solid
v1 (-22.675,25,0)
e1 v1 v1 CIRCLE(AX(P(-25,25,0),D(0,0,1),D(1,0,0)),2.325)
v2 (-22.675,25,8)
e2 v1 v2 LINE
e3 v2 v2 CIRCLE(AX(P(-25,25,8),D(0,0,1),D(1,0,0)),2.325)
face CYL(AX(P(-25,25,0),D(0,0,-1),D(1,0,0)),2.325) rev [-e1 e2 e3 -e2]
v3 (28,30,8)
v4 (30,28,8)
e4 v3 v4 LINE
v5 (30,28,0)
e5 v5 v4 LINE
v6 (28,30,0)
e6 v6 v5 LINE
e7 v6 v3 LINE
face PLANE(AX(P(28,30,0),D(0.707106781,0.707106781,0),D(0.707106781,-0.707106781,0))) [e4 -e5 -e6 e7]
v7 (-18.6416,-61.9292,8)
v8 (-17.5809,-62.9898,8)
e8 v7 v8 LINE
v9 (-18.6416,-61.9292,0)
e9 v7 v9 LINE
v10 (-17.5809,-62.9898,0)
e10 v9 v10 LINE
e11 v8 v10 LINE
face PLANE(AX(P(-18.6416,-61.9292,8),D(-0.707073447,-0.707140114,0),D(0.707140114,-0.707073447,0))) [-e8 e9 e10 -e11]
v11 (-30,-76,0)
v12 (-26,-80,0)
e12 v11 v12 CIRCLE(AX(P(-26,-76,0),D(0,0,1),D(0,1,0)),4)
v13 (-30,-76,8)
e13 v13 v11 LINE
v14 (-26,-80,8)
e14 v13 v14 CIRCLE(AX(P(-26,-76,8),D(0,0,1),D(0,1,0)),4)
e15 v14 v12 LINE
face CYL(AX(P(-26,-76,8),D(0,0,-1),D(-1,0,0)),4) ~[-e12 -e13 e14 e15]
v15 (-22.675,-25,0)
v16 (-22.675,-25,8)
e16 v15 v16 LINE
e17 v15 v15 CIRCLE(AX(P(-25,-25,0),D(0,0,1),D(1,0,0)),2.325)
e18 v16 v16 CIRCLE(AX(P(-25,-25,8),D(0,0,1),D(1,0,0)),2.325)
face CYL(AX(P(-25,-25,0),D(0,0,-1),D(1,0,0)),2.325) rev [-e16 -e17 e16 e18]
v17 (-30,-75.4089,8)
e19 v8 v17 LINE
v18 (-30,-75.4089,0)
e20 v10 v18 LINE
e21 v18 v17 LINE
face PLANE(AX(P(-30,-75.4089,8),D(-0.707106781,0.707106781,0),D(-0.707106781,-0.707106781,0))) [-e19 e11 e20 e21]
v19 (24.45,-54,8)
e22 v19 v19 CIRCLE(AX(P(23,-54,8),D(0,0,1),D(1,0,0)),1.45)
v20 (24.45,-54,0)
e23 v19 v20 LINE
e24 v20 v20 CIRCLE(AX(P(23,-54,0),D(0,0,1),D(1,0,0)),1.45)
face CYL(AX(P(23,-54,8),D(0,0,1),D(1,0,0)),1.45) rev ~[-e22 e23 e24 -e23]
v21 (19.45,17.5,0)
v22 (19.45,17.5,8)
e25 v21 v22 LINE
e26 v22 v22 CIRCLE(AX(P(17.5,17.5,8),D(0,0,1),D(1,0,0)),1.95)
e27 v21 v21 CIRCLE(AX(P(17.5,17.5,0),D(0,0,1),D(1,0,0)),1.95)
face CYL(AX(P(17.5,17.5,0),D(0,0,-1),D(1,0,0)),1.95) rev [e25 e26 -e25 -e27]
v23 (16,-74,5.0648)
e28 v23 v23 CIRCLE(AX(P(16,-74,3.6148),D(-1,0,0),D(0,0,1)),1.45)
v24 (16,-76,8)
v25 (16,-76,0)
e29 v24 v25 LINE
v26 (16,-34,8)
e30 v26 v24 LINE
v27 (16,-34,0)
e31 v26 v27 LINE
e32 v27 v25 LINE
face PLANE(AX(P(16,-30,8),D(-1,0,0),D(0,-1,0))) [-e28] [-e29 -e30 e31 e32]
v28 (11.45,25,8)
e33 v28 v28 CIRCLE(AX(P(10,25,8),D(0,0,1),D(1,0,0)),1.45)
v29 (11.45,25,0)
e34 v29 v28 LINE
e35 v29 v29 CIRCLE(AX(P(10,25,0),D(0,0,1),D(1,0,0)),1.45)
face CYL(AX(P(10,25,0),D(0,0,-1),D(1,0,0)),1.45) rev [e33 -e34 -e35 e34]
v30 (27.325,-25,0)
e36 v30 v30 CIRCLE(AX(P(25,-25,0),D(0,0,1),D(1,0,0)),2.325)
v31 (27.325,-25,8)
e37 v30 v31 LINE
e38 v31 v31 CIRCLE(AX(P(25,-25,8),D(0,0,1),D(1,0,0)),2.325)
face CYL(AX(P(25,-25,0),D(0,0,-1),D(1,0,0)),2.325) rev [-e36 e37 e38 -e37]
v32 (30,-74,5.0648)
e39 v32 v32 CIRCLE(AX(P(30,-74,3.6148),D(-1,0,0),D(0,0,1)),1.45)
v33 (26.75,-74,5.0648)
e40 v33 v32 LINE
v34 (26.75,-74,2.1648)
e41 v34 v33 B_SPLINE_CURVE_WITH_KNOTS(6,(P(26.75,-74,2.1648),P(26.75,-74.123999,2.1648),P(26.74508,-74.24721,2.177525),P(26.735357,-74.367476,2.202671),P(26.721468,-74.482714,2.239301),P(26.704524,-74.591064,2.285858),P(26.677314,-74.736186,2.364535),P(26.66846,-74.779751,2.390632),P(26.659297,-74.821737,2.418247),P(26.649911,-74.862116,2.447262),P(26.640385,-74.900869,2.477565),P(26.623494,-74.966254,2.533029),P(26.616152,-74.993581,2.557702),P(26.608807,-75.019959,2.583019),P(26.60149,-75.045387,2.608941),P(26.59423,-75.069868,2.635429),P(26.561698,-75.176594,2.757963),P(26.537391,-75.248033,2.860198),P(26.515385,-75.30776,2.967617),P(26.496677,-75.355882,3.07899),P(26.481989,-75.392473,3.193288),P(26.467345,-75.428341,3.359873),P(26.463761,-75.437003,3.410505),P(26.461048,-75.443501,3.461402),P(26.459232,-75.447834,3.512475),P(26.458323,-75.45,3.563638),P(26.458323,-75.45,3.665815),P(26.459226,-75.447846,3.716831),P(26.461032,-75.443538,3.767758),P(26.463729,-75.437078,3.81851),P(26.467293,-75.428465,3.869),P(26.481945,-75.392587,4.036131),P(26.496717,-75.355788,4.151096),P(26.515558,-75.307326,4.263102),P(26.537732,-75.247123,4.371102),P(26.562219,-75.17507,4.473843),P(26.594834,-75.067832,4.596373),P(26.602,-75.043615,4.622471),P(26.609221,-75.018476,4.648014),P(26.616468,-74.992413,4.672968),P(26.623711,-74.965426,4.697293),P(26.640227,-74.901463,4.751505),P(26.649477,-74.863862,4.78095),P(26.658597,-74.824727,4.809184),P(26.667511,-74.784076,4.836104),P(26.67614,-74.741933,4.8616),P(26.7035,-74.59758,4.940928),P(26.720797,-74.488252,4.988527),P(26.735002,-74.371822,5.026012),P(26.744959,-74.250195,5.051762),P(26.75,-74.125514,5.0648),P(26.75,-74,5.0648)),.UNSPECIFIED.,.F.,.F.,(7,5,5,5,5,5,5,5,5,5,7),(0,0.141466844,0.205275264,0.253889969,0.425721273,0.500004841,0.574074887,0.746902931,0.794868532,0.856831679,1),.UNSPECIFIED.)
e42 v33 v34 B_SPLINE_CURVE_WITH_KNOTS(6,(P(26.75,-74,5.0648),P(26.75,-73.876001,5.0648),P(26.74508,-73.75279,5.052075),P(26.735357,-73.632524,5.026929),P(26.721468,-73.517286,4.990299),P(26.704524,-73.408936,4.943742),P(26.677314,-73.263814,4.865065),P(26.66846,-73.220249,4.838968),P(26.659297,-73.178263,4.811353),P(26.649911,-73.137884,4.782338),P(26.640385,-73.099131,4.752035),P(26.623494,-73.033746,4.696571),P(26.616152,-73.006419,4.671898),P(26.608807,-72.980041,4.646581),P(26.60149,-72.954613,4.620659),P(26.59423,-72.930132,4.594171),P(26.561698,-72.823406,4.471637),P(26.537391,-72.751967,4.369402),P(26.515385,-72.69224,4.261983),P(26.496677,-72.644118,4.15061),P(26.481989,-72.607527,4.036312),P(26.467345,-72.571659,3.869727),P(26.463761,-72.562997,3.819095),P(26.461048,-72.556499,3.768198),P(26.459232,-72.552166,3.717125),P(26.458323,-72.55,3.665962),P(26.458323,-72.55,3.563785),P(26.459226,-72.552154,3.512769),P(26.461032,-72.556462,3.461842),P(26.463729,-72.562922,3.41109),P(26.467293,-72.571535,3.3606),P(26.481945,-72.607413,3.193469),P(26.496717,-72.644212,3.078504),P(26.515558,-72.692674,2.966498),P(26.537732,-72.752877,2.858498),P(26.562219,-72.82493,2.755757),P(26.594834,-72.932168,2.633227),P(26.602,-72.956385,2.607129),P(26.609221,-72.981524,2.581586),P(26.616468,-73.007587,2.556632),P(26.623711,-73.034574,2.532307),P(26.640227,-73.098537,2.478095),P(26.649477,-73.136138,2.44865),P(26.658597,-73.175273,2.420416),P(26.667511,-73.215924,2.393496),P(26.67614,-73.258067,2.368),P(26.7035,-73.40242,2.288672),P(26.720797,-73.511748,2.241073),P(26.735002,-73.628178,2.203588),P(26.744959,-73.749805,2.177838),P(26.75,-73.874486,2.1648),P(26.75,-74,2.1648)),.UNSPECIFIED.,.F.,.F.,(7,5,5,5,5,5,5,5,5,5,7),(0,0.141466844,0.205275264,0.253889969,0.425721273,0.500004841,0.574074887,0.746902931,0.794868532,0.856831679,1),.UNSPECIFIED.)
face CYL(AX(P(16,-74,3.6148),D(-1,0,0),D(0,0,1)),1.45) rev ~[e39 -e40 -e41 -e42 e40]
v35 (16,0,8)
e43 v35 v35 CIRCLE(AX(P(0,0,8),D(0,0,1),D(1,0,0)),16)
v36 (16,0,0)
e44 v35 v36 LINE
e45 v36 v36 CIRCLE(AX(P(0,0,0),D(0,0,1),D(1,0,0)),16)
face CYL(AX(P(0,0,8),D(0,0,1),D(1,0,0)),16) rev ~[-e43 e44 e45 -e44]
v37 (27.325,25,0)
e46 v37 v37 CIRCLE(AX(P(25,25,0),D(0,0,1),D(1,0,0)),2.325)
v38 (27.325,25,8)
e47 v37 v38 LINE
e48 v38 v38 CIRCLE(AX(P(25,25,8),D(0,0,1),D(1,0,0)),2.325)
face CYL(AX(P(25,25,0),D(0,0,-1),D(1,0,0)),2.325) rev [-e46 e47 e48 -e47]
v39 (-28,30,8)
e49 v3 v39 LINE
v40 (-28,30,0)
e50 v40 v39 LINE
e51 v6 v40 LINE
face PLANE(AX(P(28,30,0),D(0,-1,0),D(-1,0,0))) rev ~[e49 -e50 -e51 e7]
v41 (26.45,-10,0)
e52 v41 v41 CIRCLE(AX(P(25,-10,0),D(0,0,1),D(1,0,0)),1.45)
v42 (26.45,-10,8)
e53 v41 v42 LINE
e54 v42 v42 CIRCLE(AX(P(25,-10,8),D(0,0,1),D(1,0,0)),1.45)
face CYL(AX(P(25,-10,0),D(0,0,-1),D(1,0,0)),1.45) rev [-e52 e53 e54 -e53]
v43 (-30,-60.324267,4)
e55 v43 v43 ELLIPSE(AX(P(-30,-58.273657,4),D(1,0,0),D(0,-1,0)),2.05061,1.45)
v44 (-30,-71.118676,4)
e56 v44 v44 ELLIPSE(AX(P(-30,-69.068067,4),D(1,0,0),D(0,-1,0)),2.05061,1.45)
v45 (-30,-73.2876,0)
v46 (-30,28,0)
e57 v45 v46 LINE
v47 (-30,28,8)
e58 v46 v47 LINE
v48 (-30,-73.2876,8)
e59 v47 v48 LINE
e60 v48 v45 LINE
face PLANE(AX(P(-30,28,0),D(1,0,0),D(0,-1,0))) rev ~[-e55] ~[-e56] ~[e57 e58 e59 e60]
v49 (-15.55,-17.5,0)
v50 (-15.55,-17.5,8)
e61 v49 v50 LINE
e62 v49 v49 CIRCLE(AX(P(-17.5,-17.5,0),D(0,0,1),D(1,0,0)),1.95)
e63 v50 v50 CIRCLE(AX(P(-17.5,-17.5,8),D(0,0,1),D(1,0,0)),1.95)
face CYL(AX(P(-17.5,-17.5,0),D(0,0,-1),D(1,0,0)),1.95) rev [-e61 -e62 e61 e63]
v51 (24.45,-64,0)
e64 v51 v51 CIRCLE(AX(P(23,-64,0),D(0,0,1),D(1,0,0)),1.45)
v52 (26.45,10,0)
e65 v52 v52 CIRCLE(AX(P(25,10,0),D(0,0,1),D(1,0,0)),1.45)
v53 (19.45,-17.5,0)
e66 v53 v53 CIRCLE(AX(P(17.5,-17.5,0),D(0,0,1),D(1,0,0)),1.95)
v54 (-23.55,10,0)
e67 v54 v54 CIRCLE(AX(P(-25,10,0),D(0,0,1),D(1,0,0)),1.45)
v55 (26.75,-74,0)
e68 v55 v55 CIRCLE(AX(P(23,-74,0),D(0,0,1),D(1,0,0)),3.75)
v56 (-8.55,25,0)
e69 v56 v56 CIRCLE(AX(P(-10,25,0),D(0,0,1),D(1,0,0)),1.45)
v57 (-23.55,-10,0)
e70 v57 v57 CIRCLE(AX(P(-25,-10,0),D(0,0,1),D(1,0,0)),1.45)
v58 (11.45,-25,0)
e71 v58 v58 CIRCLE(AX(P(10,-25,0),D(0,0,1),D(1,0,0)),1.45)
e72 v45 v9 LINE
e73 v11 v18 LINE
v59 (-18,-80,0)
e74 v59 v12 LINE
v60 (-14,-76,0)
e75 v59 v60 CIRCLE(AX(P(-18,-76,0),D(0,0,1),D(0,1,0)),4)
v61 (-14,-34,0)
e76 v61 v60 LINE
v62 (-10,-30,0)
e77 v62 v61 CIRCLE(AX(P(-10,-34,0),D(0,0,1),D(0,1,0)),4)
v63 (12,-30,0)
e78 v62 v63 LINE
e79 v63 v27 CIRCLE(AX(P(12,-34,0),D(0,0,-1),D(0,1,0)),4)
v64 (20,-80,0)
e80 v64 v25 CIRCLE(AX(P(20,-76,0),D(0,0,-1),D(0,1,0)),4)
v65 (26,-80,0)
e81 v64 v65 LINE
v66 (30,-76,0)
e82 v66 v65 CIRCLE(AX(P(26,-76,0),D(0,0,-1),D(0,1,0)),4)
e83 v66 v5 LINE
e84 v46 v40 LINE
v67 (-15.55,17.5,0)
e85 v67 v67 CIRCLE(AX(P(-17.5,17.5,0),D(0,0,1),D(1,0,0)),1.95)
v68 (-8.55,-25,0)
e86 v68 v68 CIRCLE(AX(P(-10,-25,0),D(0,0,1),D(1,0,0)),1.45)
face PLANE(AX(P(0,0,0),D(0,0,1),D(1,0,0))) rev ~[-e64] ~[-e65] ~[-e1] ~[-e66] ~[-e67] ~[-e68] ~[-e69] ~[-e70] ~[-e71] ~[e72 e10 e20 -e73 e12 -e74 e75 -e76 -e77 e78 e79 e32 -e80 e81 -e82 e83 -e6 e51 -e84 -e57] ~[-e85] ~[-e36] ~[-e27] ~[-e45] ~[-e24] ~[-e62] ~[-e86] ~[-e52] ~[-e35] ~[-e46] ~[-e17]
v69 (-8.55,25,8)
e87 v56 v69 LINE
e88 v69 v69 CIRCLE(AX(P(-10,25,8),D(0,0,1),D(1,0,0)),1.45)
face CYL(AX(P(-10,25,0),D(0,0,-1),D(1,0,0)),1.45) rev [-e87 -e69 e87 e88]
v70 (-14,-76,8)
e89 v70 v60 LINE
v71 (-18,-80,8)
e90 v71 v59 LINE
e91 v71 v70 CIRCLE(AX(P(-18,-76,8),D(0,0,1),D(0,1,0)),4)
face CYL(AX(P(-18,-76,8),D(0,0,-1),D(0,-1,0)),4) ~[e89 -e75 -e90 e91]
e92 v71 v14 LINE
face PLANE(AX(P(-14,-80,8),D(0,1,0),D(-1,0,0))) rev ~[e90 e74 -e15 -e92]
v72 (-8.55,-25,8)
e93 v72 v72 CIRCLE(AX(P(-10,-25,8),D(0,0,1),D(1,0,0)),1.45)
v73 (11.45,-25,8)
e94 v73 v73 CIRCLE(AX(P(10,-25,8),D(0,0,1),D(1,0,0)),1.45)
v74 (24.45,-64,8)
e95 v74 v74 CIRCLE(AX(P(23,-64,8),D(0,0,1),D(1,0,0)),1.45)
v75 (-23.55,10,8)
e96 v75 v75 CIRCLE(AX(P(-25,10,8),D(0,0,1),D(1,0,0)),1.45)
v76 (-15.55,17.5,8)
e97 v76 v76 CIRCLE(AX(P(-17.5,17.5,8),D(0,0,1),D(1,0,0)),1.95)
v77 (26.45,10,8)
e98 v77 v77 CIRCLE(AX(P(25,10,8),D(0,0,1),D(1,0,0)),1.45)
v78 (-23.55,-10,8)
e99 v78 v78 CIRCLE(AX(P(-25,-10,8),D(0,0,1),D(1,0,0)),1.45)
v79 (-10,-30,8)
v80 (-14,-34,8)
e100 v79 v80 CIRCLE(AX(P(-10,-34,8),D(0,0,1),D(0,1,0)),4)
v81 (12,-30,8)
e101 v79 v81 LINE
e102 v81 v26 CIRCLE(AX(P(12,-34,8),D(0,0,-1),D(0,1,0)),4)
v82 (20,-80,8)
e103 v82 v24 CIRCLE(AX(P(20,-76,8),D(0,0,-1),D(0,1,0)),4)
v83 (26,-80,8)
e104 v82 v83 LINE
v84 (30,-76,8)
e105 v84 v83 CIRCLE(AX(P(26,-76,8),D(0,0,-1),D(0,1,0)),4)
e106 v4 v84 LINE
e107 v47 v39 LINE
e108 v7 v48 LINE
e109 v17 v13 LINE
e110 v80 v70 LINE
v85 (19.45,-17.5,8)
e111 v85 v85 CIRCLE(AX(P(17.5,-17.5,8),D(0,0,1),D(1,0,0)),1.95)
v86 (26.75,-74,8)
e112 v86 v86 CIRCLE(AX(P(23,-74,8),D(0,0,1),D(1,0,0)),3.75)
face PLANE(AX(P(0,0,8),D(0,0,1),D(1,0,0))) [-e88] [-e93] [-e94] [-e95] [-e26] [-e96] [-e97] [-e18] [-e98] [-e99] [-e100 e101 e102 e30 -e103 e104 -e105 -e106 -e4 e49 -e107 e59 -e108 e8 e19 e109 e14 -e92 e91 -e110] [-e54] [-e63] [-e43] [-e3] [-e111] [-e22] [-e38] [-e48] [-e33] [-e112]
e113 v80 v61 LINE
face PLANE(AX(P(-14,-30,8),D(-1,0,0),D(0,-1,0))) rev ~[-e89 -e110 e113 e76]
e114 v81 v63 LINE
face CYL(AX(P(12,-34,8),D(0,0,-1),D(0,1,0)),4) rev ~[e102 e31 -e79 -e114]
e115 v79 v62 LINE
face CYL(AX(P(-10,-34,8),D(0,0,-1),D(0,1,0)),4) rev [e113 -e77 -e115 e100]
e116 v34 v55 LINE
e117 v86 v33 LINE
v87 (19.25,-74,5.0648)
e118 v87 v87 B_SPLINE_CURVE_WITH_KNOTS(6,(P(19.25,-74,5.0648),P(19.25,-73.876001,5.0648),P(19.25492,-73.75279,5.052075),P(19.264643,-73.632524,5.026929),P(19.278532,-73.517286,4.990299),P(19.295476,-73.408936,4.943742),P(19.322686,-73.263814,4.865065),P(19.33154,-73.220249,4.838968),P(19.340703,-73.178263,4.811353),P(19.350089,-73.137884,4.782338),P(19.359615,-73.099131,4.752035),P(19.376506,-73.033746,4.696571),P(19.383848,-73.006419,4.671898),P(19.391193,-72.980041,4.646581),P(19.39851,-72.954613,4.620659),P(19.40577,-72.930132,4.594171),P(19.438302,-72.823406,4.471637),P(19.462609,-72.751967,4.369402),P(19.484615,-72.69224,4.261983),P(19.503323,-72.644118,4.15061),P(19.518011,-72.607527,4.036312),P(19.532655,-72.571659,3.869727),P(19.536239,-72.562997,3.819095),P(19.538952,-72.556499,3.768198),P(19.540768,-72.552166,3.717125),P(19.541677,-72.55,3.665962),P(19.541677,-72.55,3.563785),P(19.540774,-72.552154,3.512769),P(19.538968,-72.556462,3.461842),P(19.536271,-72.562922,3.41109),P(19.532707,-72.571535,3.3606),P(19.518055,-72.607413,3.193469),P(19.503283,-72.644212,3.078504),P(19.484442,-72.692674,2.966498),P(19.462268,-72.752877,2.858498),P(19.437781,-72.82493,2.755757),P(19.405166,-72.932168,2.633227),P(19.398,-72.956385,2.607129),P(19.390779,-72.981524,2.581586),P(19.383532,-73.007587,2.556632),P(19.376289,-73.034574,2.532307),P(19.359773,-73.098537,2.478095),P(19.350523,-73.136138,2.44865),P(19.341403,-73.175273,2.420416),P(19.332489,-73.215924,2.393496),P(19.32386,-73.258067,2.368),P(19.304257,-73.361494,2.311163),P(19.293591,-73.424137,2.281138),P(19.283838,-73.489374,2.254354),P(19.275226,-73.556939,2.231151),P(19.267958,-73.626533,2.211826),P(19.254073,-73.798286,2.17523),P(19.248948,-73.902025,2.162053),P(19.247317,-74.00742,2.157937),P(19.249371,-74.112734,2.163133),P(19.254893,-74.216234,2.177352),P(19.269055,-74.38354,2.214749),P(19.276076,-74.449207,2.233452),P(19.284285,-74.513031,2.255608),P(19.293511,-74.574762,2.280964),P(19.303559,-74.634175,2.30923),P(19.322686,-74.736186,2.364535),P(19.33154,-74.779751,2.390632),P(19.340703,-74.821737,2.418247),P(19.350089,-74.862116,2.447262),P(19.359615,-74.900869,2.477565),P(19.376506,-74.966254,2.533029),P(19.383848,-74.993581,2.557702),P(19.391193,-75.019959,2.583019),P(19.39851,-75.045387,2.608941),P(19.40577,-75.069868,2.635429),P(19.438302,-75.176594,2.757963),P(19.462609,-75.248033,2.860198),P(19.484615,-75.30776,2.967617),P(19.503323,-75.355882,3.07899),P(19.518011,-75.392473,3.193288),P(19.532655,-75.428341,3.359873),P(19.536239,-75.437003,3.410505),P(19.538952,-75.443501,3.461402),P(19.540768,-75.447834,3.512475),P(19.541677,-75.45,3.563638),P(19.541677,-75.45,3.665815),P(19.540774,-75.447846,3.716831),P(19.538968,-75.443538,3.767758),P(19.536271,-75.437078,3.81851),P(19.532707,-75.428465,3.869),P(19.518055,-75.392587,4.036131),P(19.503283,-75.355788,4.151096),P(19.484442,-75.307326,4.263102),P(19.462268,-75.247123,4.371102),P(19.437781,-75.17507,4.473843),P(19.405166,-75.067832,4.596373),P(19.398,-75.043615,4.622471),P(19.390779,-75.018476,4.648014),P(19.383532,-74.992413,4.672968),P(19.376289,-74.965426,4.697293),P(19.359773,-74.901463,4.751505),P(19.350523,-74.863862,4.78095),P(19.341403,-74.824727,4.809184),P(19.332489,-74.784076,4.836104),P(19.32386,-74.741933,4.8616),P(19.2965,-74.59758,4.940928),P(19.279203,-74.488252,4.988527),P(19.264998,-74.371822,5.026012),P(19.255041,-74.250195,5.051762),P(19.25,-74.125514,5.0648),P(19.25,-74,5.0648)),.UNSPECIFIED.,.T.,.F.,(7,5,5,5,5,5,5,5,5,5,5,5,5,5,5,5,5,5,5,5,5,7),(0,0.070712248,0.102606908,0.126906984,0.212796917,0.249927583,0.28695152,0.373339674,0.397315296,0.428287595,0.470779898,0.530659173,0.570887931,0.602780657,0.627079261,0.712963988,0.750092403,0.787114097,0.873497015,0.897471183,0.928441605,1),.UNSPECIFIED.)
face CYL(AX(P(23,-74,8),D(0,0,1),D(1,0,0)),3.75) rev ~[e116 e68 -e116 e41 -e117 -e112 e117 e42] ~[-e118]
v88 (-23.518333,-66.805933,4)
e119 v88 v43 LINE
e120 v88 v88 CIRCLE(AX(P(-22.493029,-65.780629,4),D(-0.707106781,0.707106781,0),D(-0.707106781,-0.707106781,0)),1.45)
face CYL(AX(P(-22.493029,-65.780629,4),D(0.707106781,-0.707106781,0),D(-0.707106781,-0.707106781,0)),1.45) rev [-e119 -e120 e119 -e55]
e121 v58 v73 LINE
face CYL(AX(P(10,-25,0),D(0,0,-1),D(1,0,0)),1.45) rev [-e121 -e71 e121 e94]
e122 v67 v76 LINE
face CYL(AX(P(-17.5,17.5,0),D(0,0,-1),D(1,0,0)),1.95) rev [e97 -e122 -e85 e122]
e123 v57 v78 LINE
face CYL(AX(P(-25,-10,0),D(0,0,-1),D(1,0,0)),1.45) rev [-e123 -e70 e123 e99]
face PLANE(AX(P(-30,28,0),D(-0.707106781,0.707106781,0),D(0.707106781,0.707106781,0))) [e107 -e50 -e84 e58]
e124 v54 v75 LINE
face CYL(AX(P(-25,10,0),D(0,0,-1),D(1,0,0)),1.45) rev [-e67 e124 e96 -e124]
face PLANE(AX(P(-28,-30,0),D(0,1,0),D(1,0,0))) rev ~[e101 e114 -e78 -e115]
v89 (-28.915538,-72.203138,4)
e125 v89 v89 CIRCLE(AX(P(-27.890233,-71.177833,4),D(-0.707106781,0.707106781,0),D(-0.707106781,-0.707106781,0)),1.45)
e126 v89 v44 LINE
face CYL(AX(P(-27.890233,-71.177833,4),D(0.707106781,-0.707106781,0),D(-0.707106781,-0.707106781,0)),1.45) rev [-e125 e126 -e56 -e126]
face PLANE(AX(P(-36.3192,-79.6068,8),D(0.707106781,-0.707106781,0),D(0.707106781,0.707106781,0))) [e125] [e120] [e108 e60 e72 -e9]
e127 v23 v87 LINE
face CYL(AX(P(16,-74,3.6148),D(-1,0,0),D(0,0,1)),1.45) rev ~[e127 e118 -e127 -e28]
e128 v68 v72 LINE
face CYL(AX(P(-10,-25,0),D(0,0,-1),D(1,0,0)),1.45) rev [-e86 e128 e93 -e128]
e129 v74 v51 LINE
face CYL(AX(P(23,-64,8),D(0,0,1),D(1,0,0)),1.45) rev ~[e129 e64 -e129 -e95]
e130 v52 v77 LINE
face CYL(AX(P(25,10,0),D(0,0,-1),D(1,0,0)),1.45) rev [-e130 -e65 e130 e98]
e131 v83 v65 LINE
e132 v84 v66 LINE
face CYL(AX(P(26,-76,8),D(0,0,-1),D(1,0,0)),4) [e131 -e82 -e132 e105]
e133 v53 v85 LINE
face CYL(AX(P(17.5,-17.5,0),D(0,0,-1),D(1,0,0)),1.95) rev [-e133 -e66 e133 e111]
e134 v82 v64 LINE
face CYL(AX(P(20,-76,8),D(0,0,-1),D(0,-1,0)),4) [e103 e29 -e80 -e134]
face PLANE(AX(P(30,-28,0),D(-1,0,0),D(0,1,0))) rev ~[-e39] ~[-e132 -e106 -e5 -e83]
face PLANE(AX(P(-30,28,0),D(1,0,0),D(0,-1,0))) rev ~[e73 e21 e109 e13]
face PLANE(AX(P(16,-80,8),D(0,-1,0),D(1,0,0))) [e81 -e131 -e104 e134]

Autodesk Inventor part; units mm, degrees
ref_plane "YZ Plane" through (0, 0, 0) normal (1, 0, 0) x (0, 1, 0)
ref_plane "XZ Plane" through (0, 0, 0) normal (0, 1, 0) x (-1, 0, 0)
ref_plane "XY Plane" through (0, 0, 0) normal (0, 0, 1) x (1, 0, 0)
ref_plane "Work Plane1" through (0, 0, 0) normal (0, 0, 1) x (1, 0, 0)
sketch "Sketch1" plane through (0, 0, 0) normal (0, 0, 1) x (1, 0, 0)
  circle A0 centre (-10, -25) radius 1.45 projected
  circle A1 centre (-10, 25) radius 1.45 projected
  circle A2 centre (10, 25) radius 1.45 projected
  circle A3 centre (10, -25) radius 1.45 projected
  circle A4 centre (-25, 25) radius 2.325 projected
  circle A5 centre (25, -25) radius 2.325 projected
  circle A6 centre (-25, -25) radius 2.325 projected
  circle A7 centre (25, 25) radius 2.325 projected
  line L0 (28, 30) -> (30, 28) projected
  line L1 (28, 30) -> (-28, 30) projected
  line L2 (-30, 28) -> (-28, 30) projected
  line L3 (-30, 28) -> (-30, -28) projected
  line L4 (-28, -30) -> (-30, -28) projected
  line L5 (-28, -30) -> (28, -30) projected
  line L6 (30, -28) -> (28, -30) projected
  line L7 (30, -28) -> (30, 28) projected
  circle A8 centre (-17.5, -17.5) radius 1.95 projected
  circle A9 centre (17.5, 17.5) radius 1.95 projected
  circle A10 centre (17.5, -17.5) radius 1.95 projected
  circle A11 centre (-17.5, 17.5) radius 1.95 projected
  circle A12 centre (0, 0) radius 7.5 projected
  circle A13 centre (-25.33, -75.26) radius 6.15 projected
  circle A14 centre (25, -10) radius 1.45 projected
  circle A15 centre (-25, -10) radius 1.45 projected
  circle A16 centre (-25, 10) radius 1.45 projected
  circle A17 centre (25, 10) radius 1.45 projected
  point P0 (0, 0)
extrude "Extrusion1" add sketch "Sketch1" along normal blind 8 contours L0 L7 L6 L5 L4 L3 L2 L1
sketch "Sketch2" plane through (0, 0, 8) normal (0, 0, 1) x (1, 0, 0)
  circle A0 centre (0, 0) radius 7.5 projected
  circle A1 centre (25, 10) radius 1.45 projected
  circle A2 centre (-25, 10) radius 1.45 projected
  circle A3 centre (-25, -10) radius 1.45 projected
  circle A4 centre (25, -10) radius 1.45 projected
  circle A5 centre (10, -25) radius 1.45 projected
  circle A6 centre (10, 25) radius 1.45 projected
  circle A7 centre (-10, 25) radius 1.45 projected
  circle A8 centre (-10, -25) radius 1.45 projected
  line L0 (-28, -30) -> (28, -30) projected
  line L1 (28, -30) -> (30, -28) projected
  line L2 (30, -28) -> (30, 28) projected
  line L3 (30, 28) -> (28, 30) projected
  line L4 (28, 30) -> (-28, 30) projected
  line L5 (30, -28) -> (30, 28) projected
  line L6 (30, -30) -> (16, -30)
  line L7 (16, -30) -> (16, -80)
  line L8 (16, -80) -> (30, -80)
  line L9 (30, -80) -> (30, -30)
  line L10 (30, 28) -> (30, -28) projected
  line L11 (30, -30) -> (30, -28)
  line L12 (30, -28) -> (28, -30)
  line L13 (-28, 30) -> (-30, 28) projected
  line L14 (-30, 28) -> (-30, -28) projected
  line L15 (-30, -28) -> (-28, -30) projected
  line L16 (-30, -30) -> (-14, -30)
  line L17 (-14, -30) -> (-14, -80)
  line L18 (-14, -80) -> (-30, -80)
  line L19 (-30, -80) -> (-30, -30)
  line L20 (-30, -30) -> (-30, -28)
  line L21 (-30, -28) -> (-28, -30)
  line L22 (-28, -30) -> (-30, -30)
  line L23 (28, -30) -> (30, -28) projected
  line L24 (28, -30) -> (30, -30)
  line L25 (30, -30) -> (30, -28)
  line L26 (30, -28) -> (28, -30)
  circle A9 centre (-17.5, 17.5) radius 1.95 projected
  circle A10 centre (-25, 25) radius 2.325 projected
  circle A11 centre (25, 25) radius 2.325 projected
  circle A12 centre (17.5, 17.5) radius 1.95 projected
  circle A13 centre (17.5, -17.5) radius 1.95 projected
  circle A14 centre (25, -25) radius 2.325 projected
  circle A15 centre (-25, -25) radius 2.325 projected
  point P0 (0, 0)
  point P1 (-24.2387, -104)
  dimension "d57" = 14
  dimension "d58" = 50
  dimension "d59" = 16
extrude "Extrusion2" add sketch "Sketch2" against normal up to surface (8 mm away) contours L16 L20 L15 | L0 L17 L18 L19 L16 | L0 L6 L9 L8 L7 | L1 L11 L6
fillet "Fillet1" radius 4 6 edges at (30, -80, 4) (16, -80, 4) (-14, -80, 4) (-30, -80, 4) (-14, -30, 4) (16, -30, 4)
ref_plane "Work Plane2" through (-6, -91, 19) normal (1, 0, 0) x (0, 0, -1)
sketch "Sketch8" plane through (0, 0, 8) normal (0, 0, 1) x (1, 0, 0)
  circle A0 centre (0, 0) radius 16
  point P0 (0, 0)
  dimension "d41" = 32
extrude "Extrusion7" cut sketch "Sketch8" against normal through all
sketch "Sketch11" plane through (0, 0, 8) normal (0, 0, 1) x (1, 0, 0)
  circle A0 centre (0, 0) radius 16 projected
  circle A1 centre (25, 25) radius 2.325 projected
  circle A2 centre (-25, -25) radius 2.325 projected
  circle A3 centre (25, -25) radius 2.325 projected
  circle A4 centre (-25, 25) radius 2.325 projected
  circle A5 centre (-17.5, 17.5) radius 1.95 projected
  circle A6 centre (17.5, -17.5) radius 1.95 projected
  circle A7 centre (17.5, 17.5) radius 1.95 projected
  circle A8 centre (-17.5, -17.5) radius 1.95 projected
  circle A9 centre (25, 10) radius 1.45 projected
  circle A10 centre (-25, 10) radius 1.45 projected
  circle A11 centre (-25, -10) radius 1.45 projected
  circle A12 centre (25, -10) radius 1.45 projected
  circle A13 centre (10, -25) radius 1.45 projected
  circle A14 centre (10, 25) radius 1.45 projected
  circle A15 centre (-10, 25) radius 1.45 projected
  circle A16 centre (-10, -25) radius 1.45 projected
  arc A17 (16, -76) -> (20, -80) centre (20, -76) ccw projected
  line L0 (20, -80) -> (26, -80) projected
  arc A18 (26, -80) -> (30, -76) centre (26, -76) ccw projected
  line L1 (30, 28) -> (30, -76) projected
  line L2 (30, 28) -> (28, 30) projected
  line L3 (28, 30) -> (-28, 30) projected
  line L4 (-28, 30) -> (-30, 28) projected
  line L5 (-10, -30) -> (12, -30) projected
  arc A19 (16, -34) -> (12, -30) centre (12, -34) ccw projected
  line L6 (16, -34) -> (16, -76) projected
  circle A20 centre (23, -74) radius 3.75
  circle A21 centre (23, -64) radius 1.45
  circle A22 centre (23, -54) radius 1.45
  arc A23 (-30, -76) -> (-26, -80) centre (-26, -76) ccw projected
  line L7 (-18, -80) -> (-26, -80) projected
  arc A24 (-18, -80) -> (-14, -76) centre (-18, -76) ccw projected
  line L8 (-14, -34) -> (-14, -76) projected
  arc A25 (-10, -30) -> (-14, -34) centre (-10, -34) ccw projected
  line L9 (-30, 28) -> (-30, -76) projected
  point P0 (0, 0)
  dimension "d77" = 7.5
  dimension "d80" = 2.9
  dimension "d81" = 2.9
  dimension "d82" = 10
  dimension "d83" = 10
  dimension "d84" = 6
extrude "Extrusion10" cut sketch "Sketch11" against normal through all contours A20 | A21 | A22
sketch "Sketch12" plane through (16, -76, 8) normal (-1, 0, 0) x (0, 0, 1)
  line L0 (-8, -1.75) -> (-8, 5.75) projected
  line L1 (0, 5.75) -> (0, -1.75) projected
  circle A0 centre (-4.3852, 2) radius 1.45
  point P0 (-8, 76)
  dimension "d85" = 2.9
extrude "Extrusion11" cut sketch "Sketch12" against normal through all
sketch "Sketch13" plane through (0, 0, 8) normal (0, 0, 1) x (1, 0, 0)
  circle A0 centre (23, -54) radius 1.45 projected
  circle A1 centre (23, -64) radius 1.45 projected
  circle A2 centre (23, -74) radius 3.75 projected
  circle A3 centre (0, 0) radius 16 projected
  arc A4 (-30, -76) -> (-26, -80) centre (-26, -76) ccw projected
  line L0 (-30, -76) -> (-30, 28) projected
  line L1 (-30, 28) -> (-28, 30) projected
  line L2 (-28, 30) -> (28, 30) projected
  line L3 (28, 30) -> (30, 28) projected
  line L4 (30, 28) -> (30, -76) projected
  arc A5 (26, -80) -> (30, -76) centre (26, -76) ccw projected
  line L5 (26, -80) -> (20, -80) projected
  arc A6 (16, -76) -> (20, -80) centre (20, -76) ccw projected
  line L6 (16, -76) -> (16, -34) projected
  arc A7 (16, -34) -> (12, -30) centre (12, -34) ccw projected
  line L7 (12, -30) -> (-10, -30) projected
  arc A8 (-10, -30) -> (-14, -34) centre (-10, -34) ccw projected
  line L8 (-14, -34) -> (-14, -76) projected
  arc A9 (-18, -80) -> (-14, -76) centre (-18, -76) ccw projected
  line L9 (-18, -80) -> (-26, -80) projected
  circle A10 centre (25, 25) radius 2.325 projected
  circle A11 centre (-25, -25) radius 2.325 projected
  circle A12 centre (25, -25) radius 2.325 projected
  circle A13 centre (-25, 25) radius 2.325 projected
  circle A14 centre (-17.5, 17.5) radius 1.95 projected
  circle A15 centre (17.5, -17.5) radius 1.95 projected
  circle A16 centre (17.5, 17.5) radius 1.95 projected
  circle A17 centre (-17.5, -17.5) radius 1.95 projected
  circle A18 centre (25, 10) radius 1.45 projected
  circle A19 centre (-25, 10) radius 1.45 projected
  circle A20 centre (-25, -10) radius 1.45 projected
  circle A21 centre (25, -10) radius 1.45 projected
  circle A22 centre (10, -25) radius 1.45 projected
  circle A23 centre (10, 25) radius 1.45 projected
  circle A24 centre (-10, 25) radius 1.45 projected
  circle A25 centre (-10, -25) radius 1.45 projected
  line L10 (-36.3192, -79.6068) -> (-18.6416, -61.9292)
  line L11 (-18.6416, -61.9292) -> (-17.5809, -62.9898)
  line L12 (-17.5809, -62.9898) -> (-35.2586, -80.6675)
  line L13 (-35.2586, -80.6675) -> (-36.3192, -79.6068)
  line L14 (-36.3192, -79.6068) -> (-17.5809, -62.9898) construction
  line L15 (-18.6416, -61.9292) -> (-35.2586, -80.6675) construction
  line L16 (-36.3192, -79.6068) -> (-11.3192, -79.6068) construction
  point P0 (0, 0)
  point P1 (-26.9501, -71.2983)
  dimension "d88" = 25
  dimension "d89" = 45
  dimension "d90" = 1.5
extrude "Extrusion12" cut sketch "Sketch13" against normal blind 10 contours L12 L13 L10 L0 | L0 L10 L11 L12
sketch "Sketch14" plane through (-15.0607, -58.3483, 8) normal (-0.7071, 0.7071, 0) x (-0.7071, -0.7071, 0)
  line L0 (22.6274, -8) -> (5.0642, -8) projected
  line L1 (5.0642, 0) -> (22.6274, 0) projected
  line L2 (5.0642, 0) -> (5.0642, -8) projected
  circle A0 centre (18.1437, -4) radius 1.45
  circle A1 centre (10.5109, -4) radius 1.45
  line L3 (22.6274, 0) -> (22.6274, -8) projected
  point P0 (-51.9079, -8)
  dimension "d93" = 2.9
  dimension "d94" = 2.9
extrude "Extrusion13" cut sketch "Sketch14" along normal through all contours A0 | A1
ref_plane "Work Plane3" through (0, 28, 0) normal (-1, 0, 0) x (0, 0, 1)
properties part number "30_XY_Sample_lightsheetarm_v3"
